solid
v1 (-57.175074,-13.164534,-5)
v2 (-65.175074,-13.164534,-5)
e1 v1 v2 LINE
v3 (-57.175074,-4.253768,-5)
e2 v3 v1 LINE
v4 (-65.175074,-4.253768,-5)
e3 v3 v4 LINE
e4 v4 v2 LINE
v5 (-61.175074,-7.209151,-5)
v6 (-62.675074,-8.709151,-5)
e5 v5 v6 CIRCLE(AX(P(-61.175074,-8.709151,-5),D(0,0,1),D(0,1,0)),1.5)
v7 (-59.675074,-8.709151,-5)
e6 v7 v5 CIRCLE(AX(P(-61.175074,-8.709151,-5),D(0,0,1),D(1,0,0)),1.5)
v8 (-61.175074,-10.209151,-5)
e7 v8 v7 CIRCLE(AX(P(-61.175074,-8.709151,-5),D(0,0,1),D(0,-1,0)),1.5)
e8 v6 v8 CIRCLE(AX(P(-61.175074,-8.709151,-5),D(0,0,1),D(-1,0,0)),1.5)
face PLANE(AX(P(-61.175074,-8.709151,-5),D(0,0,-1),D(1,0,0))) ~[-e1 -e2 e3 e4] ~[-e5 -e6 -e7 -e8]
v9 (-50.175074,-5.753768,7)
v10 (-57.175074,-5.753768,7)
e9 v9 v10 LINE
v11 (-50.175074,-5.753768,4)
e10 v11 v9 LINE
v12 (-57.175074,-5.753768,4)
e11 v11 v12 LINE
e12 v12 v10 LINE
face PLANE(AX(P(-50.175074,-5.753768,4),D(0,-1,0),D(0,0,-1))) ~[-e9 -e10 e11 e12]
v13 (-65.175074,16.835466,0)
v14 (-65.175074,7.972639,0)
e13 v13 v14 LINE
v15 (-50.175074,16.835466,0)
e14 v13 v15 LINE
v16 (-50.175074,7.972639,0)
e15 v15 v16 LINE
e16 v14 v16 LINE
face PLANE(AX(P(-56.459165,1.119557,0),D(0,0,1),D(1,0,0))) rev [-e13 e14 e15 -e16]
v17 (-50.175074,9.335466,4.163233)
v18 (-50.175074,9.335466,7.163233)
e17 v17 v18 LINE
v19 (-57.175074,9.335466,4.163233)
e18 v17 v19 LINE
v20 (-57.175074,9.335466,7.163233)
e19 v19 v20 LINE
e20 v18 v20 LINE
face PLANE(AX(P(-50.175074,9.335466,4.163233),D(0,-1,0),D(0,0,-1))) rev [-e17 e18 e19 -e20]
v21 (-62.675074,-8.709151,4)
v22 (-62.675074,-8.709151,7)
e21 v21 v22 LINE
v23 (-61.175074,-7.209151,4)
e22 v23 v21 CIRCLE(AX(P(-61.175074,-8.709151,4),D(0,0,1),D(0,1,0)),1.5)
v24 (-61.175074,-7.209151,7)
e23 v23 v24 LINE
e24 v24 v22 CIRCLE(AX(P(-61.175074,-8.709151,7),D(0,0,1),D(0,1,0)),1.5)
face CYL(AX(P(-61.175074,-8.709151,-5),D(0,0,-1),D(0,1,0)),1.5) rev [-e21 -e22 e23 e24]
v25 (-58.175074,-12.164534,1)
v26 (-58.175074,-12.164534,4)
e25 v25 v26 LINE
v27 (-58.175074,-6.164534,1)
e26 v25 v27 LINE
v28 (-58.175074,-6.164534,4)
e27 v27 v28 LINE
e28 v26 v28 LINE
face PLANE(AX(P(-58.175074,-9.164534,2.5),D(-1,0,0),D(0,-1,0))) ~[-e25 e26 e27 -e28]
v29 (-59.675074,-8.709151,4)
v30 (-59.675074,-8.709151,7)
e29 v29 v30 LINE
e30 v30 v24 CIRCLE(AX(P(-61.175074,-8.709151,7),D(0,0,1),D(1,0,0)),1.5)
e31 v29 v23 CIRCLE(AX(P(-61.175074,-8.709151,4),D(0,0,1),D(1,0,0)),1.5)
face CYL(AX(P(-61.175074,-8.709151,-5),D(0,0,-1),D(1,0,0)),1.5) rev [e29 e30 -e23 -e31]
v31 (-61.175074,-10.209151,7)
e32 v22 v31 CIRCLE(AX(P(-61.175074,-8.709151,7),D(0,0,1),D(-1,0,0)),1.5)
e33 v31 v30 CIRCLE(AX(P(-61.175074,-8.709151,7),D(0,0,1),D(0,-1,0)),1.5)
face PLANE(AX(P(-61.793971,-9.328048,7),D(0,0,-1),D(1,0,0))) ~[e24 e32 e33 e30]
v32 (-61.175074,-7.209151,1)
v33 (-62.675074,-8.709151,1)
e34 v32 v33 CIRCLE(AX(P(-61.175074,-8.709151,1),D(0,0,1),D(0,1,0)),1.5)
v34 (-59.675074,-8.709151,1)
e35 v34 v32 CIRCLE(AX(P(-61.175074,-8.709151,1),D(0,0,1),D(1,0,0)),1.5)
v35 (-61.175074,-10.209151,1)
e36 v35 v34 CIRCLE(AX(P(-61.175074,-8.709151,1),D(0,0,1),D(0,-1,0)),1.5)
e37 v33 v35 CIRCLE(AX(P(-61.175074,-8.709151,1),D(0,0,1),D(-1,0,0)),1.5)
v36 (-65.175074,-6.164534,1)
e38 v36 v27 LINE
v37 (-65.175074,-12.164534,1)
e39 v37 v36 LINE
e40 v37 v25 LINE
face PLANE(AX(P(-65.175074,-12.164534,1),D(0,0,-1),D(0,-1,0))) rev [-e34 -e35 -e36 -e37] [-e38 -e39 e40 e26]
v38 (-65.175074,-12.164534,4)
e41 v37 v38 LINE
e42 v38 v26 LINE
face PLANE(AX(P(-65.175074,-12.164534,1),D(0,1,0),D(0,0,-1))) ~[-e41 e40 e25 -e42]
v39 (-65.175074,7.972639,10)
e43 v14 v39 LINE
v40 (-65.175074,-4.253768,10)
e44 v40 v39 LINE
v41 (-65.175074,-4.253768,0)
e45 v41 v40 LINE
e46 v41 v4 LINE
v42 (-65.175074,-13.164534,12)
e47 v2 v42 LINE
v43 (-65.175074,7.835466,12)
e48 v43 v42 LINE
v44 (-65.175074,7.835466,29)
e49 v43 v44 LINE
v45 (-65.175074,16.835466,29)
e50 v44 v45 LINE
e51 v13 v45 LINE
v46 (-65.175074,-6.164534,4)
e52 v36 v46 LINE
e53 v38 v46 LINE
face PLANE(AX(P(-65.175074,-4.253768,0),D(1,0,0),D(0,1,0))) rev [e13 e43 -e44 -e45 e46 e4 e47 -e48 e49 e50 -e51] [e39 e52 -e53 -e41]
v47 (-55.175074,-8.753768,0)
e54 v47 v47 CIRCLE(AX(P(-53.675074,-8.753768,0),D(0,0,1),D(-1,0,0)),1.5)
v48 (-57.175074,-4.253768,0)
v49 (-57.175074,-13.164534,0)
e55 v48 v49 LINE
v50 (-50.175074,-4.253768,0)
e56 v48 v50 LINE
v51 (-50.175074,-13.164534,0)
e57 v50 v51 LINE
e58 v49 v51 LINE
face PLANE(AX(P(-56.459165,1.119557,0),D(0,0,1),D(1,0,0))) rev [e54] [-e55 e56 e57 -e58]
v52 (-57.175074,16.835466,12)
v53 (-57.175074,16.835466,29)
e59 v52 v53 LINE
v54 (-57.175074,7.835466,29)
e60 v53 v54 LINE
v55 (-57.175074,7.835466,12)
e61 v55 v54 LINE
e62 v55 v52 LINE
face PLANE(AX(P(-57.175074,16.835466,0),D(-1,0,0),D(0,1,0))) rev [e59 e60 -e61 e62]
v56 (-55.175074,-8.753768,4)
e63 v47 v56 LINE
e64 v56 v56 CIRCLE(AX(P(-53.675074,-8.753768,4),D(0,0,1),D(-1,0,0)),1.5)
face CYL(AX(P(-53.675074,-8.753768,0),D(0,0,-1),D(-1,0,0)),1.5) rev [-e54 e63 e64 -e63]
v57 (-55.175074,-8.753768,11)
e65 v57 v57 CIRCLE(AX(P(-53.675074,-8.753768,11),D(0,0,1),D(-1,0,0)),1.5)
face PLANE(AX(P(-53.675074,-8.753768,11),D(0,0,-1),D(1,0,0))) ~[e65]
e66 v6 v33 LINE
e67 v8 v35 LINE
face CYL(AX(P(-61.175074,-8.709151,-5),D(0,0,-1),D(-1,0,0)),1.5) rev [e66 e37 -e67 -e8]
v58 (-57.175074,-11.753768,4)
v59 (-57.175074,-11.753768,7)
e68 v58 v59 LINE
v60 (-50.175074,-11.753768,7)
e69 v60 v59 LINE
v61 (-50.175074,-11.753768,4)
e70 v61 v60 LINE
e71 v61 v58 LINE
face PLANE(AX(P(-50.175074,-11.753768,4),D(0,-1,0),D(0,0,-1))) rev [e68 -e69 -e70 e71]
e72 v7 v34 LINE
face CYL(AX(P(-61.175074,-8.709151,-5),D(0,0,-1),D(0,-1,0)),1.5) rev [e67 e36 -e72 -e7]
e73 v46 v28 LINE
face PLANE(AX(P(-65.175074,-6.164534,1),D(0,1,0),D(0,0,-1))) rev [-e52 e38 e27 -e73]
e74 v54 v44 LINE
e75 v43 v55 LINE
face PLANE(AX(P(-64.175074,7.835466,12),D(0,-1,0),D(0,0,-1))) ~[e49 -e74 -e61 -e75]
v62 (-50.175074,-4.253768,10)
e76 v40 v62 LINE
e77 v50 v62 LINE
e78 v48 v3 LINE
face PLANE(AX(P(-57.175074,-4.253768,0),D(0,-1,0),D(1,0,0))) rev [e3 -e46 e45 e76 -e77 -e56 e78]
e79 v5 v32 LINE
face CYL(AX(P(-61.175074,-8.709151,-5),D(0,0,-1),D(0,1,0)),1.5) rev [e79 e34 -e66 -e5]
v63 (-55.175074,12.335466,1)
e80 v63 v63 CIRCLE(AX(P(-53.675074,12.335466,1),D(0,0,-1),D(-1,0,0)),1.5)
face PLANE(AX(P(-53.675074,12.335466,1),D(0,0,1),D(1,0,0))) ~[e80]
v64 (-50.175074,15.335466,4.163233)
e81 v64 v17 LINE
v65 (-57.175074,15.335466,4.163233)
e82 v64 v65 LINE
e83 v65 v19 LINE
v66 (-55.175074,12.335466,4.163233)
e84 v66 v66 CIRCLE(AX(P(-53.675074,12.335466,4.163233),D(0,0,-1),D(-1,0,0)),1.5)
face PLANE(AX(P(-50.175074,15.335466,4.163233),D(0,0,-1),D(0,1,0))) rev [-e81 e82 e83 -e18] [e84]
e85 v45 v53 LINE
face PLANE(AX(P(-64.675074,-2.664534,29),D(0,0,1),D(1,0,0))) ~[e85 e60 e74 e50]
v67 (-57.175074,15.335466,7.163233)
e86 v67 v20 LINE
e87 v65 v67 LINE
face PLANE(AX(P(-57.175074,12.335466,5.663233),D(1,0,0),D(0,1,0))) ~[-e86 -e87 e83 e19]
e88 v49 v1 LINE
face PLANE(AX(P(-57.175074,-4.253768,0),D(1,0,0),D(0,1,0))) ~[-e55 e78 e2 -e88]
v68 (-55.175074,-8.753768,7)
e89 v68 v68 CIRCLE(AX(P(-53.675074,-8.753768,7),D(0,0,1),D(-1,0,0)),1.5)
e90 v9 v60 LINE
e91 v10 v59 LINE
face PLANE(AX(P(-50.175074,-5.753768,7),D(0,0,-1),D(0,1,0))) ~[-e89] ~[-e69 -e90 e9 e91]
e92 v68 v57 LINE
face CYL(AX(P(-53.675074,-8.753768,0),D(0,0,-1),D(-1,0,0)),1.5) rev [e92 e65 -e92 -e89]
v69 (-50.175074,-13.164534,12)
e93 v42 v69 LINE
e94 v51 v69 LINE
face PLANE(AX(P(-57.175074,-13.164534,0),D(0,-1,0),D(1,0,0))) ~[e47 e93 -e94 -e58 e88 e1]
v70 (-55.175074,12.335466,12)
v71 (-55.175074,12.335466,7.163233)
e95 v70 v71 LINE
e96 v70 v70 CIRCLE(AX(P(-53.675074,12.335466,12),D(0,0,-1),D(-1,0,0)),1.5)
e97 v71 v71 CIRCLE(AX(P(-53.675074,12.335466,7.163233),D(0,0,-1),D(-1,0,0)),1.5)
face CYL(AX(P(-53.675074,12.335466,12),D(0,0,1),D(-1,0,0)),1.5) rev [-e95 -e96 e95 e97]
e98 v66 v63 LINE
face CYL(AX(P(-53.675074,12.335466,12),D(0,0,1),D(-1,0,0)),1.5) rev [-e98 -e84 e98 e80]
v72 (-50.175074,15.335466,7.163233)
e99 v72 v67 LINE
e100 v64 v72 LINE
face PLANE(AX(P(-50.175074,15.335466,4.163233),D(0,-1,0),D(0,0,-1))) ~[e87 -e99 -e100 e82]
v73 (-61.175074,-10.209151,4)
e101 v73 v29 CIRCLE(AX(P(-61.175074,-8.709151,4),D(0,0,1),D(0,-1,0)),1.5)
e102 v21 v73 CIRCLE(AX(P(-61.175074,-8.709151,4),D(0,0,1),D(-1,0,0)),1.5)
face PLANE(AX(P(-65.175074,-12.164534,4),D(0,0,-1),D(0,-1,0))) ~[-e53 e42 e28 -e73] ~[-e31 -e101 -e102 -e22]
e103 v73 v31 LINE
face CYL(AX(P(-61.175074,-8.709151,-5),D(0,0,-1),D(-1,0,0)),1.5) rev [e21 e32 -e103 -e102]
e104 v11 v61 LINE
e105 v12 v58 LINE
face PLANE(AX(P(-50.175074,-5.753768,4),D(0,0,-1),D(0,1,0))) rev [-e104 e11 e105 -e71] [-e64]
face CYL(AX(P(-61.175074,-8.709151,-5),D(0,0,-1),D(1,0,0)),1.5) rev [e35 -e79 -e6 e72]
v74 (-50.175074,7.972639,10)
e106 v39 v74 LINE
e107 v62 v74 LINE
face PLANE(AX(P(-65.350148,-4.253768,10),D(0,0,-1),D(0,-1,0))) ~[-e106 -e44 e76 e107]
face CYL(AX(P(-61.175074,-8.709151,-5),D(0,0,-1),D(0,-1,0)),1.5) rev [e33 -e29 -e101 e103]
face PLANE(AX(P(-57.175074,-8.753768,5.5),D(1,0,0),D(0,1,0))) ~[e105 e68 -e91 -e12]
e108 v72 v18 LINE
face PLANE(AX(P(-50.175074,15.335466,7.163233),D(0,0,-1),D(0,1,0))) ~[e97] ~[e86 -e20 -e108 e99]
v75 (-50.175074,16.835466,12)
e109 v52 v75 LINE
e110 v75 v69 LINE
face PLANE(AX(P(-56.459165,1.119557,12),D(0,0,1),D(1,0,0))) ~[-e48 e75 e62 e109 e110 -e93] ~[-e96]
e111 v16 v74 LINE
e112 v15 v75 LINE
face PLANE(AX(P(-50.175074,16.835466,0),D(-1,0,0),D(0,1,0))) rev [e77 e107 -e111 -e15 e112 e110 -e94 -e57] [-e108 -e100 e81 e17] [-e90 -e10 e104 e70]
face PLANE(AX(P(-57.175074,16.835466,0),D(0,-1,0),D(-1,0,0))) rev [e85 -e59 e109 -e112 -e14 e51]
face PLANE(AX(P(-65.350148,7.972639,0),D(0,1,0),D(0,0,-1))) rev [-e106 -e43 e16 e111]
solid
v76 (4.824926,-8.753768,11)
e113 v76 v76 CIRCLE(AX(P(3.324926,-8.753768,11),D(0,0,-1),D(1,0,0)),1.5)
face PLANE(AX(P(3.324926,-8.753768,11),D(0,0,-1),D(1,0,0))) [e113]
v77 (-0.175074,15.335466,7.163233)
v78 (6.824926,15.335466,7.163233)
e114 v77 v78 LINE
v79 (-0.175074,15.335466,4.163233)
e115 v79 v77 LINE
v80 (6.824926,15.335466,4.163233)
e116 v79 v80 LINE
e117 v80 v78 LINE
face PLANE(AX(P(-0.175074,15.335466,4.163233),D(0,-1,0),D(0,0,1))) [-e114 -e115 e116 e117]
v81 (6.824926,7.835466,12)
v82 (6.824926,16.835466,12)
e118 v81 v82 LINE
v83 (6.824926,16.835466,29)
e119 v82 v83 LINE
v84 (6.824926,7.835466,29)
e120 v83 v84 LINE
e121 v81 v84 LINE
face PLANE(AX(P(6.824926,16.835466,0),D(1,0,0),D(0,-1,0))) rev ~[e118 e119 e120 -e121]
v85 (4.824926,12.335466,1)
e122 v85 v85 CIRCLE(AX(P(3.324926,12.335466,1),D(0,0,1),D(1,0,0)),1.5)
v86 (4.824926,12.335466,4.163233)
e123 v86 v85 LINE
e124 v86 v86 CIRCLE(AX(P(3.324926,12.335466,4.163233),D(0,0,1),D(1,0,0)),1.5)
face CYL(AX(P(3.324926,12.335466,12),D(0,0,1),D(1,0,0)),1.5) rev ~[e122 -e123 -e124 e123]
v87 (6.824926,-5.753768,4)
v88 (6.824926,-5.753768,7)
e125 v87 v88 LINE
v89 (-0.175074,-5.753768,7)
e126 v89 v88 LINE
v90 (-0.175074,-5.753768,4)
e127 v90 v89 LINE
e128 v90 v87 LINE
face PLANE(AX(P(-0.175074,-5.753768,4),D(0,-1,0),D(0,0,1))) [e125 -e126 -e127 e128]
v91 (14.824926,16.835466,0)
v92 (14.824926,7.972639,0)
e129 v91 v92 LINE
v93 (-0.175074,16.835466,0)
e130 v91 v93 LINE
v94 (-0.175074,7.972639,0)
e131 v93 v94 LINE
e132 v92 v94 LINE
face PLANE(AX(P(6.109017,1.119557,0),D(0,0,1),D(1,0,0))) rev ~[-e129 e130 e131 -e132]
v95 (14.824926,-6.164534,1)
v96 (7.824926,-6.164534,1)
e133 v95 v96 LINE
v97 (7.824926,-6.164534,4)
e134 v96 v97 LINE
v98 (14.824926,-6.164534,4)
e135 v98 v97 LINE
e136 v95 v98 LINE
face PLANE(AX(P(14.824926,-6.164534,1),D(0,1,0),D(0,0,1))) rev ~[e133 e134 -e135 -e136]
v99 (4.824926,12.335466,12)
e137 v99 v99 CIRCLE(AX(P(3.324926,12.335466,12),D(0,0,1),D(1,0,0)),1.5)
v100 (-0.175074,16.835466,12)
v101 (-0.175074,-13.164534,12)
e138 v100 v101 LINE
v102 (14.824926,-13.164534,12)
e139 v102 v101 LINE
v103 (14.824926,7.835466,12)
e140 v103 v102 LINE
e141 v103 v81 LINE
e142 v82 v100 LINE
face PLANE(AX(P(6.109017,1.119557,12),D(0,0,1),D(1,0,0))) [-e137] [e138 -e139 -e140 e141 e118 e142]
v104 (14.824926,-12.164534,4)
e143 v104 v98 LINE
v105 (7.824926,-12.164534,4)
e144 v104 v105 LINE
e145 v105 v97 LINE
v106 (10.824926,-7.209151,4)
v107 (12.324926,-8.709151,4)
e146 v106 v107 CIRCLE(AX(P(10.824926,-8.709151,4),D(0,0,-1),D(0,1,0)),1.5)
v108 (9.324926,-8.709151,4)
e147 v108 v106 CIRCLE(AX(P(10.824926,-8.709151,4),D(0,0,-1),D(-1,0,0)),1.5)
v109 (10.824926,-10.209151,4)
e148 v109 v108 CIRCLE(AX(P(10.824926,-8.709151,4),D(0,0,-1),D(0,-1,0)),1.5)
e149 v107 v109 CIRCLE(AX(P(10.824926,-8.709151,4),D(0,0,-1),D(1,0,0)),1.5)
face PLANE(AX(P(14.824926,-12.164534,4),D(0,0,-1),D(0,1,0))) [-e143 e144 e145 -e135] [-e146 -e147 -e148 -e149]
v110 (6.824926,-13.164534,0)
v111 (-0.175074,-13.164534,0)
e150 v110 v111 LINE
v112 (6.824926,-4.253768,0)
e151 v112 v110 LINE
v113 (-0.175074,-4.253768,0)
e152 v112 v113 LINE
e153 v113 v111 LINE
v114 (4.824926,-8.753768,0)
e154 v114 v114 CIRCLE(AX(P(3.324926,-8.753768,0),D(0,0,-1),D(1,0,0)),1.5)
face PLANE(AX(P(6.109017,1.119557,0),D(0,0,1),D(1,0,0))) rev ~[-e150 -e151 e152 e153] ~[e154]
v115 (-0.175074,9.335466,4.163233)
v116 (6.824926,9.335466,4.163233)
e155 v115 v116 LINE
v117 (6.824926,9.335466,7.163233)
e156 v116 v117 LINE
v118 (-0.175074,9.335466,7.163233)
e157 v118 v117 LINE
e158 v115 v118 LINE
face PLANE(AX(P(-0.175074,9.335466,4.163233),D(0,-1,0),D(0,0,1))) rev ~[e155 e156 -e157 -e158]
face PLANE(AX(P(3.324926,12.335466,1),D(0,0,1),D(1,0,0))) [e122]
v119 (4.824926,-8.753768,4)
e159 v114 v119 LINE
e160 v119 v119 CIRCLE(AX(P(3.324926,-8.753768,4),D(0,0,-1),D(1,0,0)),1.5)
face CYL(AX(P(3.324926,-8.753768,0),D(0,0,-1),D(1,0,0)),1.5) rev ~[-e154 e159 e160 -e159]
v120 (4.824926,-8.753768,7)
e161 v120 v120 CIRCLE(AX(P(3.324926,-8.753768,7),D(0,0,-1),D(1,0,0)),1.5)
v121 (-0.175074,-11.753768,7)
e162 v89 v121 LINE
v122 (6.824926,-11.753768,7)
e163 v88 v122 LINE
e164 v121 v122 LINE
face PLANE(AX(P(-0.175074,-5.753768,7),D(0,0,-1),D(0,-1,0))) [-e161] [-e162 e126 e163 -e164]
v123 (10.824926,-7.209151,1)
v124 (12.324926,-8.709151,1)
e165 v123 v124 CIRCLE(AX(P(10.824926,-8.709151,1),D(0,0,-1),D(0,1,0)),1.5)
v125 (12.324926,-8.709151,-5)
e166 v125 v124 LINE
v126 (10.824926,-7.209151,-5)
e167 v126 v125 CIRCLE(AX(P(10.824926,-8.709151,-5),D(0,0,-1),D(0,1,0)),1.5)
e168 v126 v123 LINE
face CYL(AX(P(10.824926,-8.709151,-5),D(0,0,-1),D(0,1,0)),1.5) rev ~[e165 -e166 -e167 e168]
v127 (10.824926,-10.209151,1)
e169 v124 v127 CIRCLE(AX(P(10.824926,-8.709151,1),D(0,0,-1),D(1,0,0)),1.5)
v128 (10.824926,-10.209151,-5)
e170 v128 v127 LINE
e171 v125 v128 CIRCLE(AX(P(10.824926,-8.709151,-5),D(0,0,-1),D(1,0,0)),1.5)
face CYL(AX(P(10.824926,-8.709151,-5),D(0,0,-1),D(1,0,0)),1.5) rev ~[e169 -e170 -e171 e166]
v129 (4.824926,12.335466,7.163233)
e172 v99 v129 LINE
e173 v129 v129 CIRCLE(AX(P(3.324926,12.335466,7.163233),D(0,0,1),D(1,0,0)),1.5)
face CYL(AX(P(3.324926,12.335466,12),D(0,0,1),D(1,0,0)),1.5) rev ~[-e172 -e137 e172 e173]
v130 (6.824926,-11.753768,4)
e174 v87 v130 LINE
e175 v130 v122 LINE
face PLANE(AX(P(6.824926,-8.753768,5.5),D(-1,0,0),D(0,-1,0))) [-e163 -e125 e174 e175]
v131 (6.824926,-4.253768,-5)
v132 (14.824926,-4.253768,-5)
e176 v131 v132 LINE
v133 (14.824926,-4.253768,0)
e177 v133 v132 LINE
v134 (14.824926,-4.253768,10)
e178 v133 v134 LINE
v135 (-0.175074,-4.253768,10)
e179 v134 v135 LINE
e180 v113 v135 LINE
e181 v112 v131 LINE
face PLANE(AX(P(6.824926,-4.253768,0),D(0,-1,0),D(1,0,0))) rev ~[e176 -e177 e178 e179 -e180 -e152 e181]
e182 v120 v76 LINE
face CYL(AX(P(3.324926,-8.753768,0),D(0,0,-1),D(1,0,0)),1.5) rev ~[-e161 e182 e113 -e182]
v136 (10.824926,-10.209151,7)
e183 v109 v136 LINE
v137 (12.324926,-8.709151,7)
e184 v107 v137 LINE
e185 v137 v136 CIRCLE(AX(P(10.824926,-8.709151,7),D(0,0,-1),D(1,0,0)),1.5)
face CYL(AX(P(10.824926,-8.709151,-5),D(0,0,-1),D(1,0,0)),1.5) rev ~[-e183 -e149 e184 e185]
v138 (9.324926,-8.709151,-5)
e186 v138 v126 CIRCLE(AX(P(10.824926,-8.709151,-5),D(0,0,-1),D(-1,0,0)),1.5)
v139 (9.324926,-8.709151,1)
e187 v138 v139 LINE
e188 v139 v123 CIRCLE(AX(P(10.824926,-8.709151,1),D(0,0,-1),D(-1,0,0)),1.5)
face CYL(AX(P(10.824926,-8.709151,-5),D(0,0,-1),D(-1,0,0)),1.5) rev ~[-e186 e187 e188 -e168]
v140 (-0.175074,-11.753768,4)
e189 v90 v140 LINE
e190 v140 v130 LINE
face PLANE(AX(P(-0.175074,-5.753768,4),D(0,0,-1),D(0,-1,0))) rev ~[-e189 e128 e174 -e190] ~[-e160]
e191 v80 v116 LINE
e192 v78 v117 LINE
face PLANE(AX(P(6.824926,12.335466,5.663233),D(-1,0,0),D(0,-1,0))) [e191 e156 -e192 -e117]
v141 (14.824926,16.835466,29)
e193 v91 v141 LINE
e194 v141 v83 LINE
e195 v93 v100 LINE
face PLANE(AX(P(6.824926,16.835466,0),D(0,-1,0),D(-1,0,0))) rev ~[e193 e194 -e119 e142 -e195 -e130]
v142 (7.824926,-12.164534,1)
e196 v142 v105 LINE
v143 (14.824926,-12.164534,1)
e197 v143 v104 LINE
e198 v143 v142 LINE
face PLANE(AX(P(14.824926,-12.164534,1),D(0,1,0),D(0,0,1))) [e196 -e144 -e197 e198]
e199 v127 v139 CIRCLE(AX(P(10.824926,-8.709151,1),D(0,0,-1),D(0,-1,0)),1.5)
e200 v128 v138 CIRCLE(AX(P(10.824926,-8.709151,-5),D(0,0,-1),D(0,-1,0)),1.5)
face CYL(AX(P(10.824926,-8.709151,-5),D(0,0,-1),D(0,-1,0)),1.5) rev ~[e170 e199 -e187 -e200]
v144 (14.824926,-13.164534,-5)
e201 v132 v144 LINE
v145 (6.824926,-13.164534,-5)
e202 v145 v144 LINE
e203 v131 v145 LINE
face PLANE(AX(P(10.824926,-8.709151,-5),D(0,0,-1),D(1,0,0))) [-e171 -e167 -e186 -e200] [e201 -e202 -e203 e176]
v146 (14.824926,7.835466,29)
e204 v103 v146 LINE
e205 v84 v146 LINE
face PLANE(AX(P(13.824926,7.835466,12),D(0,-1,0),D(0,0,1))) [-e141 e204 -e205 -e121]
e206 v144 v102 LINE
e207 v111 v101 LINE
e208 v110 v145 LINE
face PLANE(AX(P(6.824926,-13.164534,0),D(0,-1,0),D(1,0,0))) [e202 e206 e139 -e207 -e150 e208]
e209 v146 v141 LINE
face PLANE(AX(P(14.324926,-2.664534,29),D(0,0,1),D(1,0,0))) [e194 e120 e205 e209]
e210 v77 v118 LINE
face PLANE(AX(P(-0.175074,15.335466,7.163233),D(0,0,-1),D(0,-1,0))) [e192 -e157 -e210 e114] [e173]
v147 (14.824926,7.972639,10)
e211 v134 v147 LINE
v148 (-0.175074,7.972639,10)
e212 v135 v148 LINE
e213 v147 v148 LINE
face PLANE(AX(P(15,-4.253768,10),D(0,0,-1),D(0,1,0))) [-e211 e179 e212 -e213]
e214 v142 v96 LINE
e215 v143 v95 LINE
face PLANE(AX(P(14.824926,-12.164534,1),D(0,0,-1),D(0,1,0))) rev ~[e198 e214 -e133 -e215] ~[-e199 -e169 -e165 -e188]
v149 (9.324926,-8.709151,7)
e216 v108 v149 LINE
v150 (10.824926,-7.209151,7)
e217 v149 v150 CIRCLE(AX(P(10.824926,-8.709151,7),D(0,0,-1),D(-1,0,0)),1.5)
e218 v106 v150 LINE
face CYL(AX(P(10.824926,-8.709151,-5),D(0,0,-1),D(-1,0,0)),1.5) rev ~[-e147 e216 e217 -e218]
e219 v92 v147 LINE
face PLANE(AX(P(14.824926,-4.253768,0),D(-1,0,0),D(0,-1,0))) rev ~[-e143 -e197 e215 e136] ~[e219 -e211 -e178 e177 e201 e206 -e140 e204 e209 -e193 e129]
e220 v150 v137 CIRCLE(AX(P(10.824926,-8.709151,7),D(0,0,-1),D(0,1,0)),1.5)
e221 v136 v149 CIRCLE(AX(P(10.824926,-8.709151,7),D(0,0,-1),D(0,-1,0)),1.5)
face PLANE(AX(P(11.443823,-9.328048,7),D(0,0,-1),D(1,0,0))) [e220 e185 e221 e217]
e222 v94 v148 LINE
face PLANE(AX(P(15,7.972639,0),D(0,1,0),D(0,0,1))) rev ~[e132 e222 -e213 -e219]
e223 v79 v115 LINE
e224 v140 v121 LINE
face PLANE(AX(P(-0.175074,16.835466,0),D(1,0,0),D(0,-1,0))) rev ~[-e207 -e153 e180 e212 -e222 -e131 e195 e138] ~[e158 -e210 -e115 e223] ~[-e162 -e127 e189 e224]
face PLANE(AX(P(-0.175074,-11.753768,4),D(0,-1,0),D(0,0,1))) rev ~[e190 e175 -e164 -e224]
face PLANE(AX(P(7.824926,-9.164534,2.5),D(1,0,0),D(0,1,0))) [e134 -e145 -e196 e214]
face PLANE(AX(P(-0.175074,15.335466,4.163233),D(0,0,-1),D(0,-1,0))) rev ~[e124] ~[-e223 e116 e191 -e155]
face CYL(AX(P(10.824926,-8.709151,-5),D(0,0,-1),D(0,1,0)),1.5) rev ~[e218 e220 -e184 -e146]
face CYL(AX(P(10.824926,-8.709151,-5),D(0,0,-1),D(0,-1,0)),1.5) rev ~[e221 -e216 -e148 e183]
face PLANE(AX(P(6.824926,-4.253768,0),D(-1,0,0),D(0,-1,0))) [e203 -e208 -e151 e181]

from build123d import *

# Parameters (mm, degrees)
F1_DEPTH  = 29
F0_W      = 1
F0_H      = 21
F2_DEPTH  = 29
F3_DEPTH  = 12
F4_W      = 12.2264070287
F4_H      = 10
F5_DEPTH  = 15
F6_DEPTH  = 16
F7_W      = 8
F7_H      = 8.9107662588
F8_DEPTH  = 5
F10_DEPTH = 12
F11_W     = 6
F11_H     = 3
F12_DEPTH = 7
F13_W     = 6
F13_H     = 3
F14_DEPTH = 7
F15_R     = 1.5
F16_DEPTH = 11
F17_DEPTH = 7
F18_R     = 1.5
F19_DEPTH = 11
F20_W     = 21
F20_H     = 17
F21_DEPTH = 1


with BuildPart() as f1:
    # F0 (on Top) → F1 (new body)
    with BuildSketch(Plane.XY):
        Polygon((14.8249259219, 16.8354657665), (6.8249259219, 16.8354657665), (6.8249259219, 7.8354657665), (13.8249259219, 7.8354657665), (14.8249259219, 7.8354657665), align=None)
    extrude(amount=F1_DEPTH)

    # F0 (on Top) → F2 (join)
    with BuildSketch(Plane.XY):
        with Locations((14.3249259219, -2.6645342335)):
            Rectangle(F0_W, F0_H)
    extrude(amount=F2_DEPTH)

    # F0 (on Top) → F3 (join)
    with BuildSketch(Plane.XY):
        Polygon((6.8249259219, 16.8354657665), (-0.1750740781, 16.8354657665), (-0.1750740781, -13.1645342335), (13.8249259219, -13.1645342335), (13.8249259219, 7.8354657665), (6.8249259219, 7.8354657665), align=None)
    extrude(amount=F3_DEPTH)

    # F4 (on Right) → F5 (join)
    with BuildSketch(Plane.YZ):
        with Locations((1.8594355397, 5)):
            Rectangle(F4_W, F4_H)
    extrude(amount=F5_DEPTH)

    # F6 (cut): a face of the model
    f6_faces = [f1.faces().sort_by_distance(p)[0] for p in [
        (15, 1.8594355397, 5),
    ]]
    extrude(f6_faces, amount=-F6_DEPTH, mode=Mode.SUBTRACT)

    # F7 (on face) → F8 (join)
    with BuildSketch(Plane(origin=(0, 0, 0), x_dir=(1, 0, 0), z_dir=(0, 0, -1))):
        with Locations((10.8249259219, 8.7091511041)):
            Rectangle(F7_W, F7_H)
    extrude(amount=F8_DEPTH)

    # F9 (on face) → F10 (cut)
    with BuildSketch(Plane(origin=(0, 0, -5), x_dir=(1, 0, 0), z_dir=(0, 0, -1))):
        with BuildLine():
            ThreePointArc((12.3249259219, 8.7091511041), (11.8855860936, 9.7698112759), (10.8249259219, 10.2091511041))
            Line((10.8249259219, 10.2091511041), (10.8249259219, 8.7091511041))
            Line((10.8249259219, 8.7091511041), (12.3249259219, 8.7091511041))
        make_face()
        with BuildLine():
            Line((12.3249259219, 8.7091511041), (10.8249259219, 8.7091511041))
            Line((10.8249259219, 8.7091511041), (10.8249259219, 7.2091511041))
            ThreePointArc((10.8249259219, 7.2091511041), (11.8855860936, 7.6484909323), (12.3249259219, 8.7091511041))
        make_face()
        with BuildLine():
            Line((10.8249259219, 8.7091511041), (9.3249259219, 8.7091511041))
            ThreePointArc((9.3249259219, 8.7091511041), (9.7642657501, 7.6484909323), (10.8249259219, 7.2091511041))
            Line((10.8249259219, 7.2091511041), (10.8249259219, 8.7091511041))
        make_face()
        with BuildLine():
            Line((10.8249259219, 8.7091511041), (10.8249259219, 10.2091511041))
            ThreePointArc((10.8249259219, 10.2091511041), (9.7642657501, 9.7698112759), (9.3249259219, 8.7091511041))
            Line((9.3249259219, 8.7091511041), (10.8249259219, 8.7091511041))
        make_face()
    extrude(amount=-F10_DEPTH, mode=Mode.SUBTRACT)

    # F11 (on face) → F12 (cut)
    with BuildSketch(Plane.YZ.offset(14.8249259219)):
        with Locations((-9.1645342335, 2.5)):
            Rectangle(F11_W, F11_H)
    extrude(amount=-F12_DEPTH, mode=Mode.SUBTRACT)

    # F13 (on face) → F14 (cut)
    with BuildSketch(Plane(origin=(-0.1750740781, 0, 0), x_dir=(0, -1, 0), z_dir=(-1, 0, 0))):
        with Locations((-12.3354657665, 5.663232632)):
            Rectangle(F13_W, F13_H)
    extrude(amount=-F14_DEPTH, mode=Mode.SUBTRACT)

    # F15 (on face) → F16 (cut)
    with BuildSketch(Plane.XY.offset(12)):
        with Locations((3.3249259219, 12.3354657665)):
            Circle(F15_R)
    extrude(amount=-F16_DEPTH, mode=Mode.SUBTRACT)

    # F13 (on face) → F17 (cut)
    with BuildSketch(Plane(origin=(-0.1750740781, 0, 0), x_dir=(0, -1, 0), z_dir=(-1, 0, 0))):
        with Locations((-12.3354657665, 5.663232632)):
            Rectangle(F13_W, F13_H)
        with Locations((8.7537679747, 5.5)):
            Rectangle(F13_W, F13_H)
    extrude(amount=-F17_DEPTH, mode=Mode.SUBTRACT)

    # F18 (on face) → F19 (cut)
    with BuildSketch(Plane(origin=(0, 0, 0), x_dir=(1, 0, 0), z_dir=(0, 0, -1))):
        with Locations((3.3249259219, 8.7537679747)):
            Circle(F18_R)
    extrude(amount=-F19_DEPTH, mode=Mode.SUBTRACT)

    # F20 (on face) → F21 (cut)
    with BuildSketch(Plane(origin=(13.8249259219, 0, 0), x_dir=(0, -1, 0), z_dir=(-1, 0, 0))):
        with Locations((2.6645342335, 20.5)):
            Rectangle(F20_W, F20_H)
    extrude(amount=-F21_DEPTH, mode=Mode.SUBTRACT)


with BuildPart() as f23_1:
    # F23: instance of F1
    add(f1.part.mirror(Plane(origin=(-25.1750740781, 1.8289005766, 6.6807209955), x_dir=(0, -1, 0), z_dir=(-1, 0, 0))))


solid = Compound([f1.part, f23_1.part])
